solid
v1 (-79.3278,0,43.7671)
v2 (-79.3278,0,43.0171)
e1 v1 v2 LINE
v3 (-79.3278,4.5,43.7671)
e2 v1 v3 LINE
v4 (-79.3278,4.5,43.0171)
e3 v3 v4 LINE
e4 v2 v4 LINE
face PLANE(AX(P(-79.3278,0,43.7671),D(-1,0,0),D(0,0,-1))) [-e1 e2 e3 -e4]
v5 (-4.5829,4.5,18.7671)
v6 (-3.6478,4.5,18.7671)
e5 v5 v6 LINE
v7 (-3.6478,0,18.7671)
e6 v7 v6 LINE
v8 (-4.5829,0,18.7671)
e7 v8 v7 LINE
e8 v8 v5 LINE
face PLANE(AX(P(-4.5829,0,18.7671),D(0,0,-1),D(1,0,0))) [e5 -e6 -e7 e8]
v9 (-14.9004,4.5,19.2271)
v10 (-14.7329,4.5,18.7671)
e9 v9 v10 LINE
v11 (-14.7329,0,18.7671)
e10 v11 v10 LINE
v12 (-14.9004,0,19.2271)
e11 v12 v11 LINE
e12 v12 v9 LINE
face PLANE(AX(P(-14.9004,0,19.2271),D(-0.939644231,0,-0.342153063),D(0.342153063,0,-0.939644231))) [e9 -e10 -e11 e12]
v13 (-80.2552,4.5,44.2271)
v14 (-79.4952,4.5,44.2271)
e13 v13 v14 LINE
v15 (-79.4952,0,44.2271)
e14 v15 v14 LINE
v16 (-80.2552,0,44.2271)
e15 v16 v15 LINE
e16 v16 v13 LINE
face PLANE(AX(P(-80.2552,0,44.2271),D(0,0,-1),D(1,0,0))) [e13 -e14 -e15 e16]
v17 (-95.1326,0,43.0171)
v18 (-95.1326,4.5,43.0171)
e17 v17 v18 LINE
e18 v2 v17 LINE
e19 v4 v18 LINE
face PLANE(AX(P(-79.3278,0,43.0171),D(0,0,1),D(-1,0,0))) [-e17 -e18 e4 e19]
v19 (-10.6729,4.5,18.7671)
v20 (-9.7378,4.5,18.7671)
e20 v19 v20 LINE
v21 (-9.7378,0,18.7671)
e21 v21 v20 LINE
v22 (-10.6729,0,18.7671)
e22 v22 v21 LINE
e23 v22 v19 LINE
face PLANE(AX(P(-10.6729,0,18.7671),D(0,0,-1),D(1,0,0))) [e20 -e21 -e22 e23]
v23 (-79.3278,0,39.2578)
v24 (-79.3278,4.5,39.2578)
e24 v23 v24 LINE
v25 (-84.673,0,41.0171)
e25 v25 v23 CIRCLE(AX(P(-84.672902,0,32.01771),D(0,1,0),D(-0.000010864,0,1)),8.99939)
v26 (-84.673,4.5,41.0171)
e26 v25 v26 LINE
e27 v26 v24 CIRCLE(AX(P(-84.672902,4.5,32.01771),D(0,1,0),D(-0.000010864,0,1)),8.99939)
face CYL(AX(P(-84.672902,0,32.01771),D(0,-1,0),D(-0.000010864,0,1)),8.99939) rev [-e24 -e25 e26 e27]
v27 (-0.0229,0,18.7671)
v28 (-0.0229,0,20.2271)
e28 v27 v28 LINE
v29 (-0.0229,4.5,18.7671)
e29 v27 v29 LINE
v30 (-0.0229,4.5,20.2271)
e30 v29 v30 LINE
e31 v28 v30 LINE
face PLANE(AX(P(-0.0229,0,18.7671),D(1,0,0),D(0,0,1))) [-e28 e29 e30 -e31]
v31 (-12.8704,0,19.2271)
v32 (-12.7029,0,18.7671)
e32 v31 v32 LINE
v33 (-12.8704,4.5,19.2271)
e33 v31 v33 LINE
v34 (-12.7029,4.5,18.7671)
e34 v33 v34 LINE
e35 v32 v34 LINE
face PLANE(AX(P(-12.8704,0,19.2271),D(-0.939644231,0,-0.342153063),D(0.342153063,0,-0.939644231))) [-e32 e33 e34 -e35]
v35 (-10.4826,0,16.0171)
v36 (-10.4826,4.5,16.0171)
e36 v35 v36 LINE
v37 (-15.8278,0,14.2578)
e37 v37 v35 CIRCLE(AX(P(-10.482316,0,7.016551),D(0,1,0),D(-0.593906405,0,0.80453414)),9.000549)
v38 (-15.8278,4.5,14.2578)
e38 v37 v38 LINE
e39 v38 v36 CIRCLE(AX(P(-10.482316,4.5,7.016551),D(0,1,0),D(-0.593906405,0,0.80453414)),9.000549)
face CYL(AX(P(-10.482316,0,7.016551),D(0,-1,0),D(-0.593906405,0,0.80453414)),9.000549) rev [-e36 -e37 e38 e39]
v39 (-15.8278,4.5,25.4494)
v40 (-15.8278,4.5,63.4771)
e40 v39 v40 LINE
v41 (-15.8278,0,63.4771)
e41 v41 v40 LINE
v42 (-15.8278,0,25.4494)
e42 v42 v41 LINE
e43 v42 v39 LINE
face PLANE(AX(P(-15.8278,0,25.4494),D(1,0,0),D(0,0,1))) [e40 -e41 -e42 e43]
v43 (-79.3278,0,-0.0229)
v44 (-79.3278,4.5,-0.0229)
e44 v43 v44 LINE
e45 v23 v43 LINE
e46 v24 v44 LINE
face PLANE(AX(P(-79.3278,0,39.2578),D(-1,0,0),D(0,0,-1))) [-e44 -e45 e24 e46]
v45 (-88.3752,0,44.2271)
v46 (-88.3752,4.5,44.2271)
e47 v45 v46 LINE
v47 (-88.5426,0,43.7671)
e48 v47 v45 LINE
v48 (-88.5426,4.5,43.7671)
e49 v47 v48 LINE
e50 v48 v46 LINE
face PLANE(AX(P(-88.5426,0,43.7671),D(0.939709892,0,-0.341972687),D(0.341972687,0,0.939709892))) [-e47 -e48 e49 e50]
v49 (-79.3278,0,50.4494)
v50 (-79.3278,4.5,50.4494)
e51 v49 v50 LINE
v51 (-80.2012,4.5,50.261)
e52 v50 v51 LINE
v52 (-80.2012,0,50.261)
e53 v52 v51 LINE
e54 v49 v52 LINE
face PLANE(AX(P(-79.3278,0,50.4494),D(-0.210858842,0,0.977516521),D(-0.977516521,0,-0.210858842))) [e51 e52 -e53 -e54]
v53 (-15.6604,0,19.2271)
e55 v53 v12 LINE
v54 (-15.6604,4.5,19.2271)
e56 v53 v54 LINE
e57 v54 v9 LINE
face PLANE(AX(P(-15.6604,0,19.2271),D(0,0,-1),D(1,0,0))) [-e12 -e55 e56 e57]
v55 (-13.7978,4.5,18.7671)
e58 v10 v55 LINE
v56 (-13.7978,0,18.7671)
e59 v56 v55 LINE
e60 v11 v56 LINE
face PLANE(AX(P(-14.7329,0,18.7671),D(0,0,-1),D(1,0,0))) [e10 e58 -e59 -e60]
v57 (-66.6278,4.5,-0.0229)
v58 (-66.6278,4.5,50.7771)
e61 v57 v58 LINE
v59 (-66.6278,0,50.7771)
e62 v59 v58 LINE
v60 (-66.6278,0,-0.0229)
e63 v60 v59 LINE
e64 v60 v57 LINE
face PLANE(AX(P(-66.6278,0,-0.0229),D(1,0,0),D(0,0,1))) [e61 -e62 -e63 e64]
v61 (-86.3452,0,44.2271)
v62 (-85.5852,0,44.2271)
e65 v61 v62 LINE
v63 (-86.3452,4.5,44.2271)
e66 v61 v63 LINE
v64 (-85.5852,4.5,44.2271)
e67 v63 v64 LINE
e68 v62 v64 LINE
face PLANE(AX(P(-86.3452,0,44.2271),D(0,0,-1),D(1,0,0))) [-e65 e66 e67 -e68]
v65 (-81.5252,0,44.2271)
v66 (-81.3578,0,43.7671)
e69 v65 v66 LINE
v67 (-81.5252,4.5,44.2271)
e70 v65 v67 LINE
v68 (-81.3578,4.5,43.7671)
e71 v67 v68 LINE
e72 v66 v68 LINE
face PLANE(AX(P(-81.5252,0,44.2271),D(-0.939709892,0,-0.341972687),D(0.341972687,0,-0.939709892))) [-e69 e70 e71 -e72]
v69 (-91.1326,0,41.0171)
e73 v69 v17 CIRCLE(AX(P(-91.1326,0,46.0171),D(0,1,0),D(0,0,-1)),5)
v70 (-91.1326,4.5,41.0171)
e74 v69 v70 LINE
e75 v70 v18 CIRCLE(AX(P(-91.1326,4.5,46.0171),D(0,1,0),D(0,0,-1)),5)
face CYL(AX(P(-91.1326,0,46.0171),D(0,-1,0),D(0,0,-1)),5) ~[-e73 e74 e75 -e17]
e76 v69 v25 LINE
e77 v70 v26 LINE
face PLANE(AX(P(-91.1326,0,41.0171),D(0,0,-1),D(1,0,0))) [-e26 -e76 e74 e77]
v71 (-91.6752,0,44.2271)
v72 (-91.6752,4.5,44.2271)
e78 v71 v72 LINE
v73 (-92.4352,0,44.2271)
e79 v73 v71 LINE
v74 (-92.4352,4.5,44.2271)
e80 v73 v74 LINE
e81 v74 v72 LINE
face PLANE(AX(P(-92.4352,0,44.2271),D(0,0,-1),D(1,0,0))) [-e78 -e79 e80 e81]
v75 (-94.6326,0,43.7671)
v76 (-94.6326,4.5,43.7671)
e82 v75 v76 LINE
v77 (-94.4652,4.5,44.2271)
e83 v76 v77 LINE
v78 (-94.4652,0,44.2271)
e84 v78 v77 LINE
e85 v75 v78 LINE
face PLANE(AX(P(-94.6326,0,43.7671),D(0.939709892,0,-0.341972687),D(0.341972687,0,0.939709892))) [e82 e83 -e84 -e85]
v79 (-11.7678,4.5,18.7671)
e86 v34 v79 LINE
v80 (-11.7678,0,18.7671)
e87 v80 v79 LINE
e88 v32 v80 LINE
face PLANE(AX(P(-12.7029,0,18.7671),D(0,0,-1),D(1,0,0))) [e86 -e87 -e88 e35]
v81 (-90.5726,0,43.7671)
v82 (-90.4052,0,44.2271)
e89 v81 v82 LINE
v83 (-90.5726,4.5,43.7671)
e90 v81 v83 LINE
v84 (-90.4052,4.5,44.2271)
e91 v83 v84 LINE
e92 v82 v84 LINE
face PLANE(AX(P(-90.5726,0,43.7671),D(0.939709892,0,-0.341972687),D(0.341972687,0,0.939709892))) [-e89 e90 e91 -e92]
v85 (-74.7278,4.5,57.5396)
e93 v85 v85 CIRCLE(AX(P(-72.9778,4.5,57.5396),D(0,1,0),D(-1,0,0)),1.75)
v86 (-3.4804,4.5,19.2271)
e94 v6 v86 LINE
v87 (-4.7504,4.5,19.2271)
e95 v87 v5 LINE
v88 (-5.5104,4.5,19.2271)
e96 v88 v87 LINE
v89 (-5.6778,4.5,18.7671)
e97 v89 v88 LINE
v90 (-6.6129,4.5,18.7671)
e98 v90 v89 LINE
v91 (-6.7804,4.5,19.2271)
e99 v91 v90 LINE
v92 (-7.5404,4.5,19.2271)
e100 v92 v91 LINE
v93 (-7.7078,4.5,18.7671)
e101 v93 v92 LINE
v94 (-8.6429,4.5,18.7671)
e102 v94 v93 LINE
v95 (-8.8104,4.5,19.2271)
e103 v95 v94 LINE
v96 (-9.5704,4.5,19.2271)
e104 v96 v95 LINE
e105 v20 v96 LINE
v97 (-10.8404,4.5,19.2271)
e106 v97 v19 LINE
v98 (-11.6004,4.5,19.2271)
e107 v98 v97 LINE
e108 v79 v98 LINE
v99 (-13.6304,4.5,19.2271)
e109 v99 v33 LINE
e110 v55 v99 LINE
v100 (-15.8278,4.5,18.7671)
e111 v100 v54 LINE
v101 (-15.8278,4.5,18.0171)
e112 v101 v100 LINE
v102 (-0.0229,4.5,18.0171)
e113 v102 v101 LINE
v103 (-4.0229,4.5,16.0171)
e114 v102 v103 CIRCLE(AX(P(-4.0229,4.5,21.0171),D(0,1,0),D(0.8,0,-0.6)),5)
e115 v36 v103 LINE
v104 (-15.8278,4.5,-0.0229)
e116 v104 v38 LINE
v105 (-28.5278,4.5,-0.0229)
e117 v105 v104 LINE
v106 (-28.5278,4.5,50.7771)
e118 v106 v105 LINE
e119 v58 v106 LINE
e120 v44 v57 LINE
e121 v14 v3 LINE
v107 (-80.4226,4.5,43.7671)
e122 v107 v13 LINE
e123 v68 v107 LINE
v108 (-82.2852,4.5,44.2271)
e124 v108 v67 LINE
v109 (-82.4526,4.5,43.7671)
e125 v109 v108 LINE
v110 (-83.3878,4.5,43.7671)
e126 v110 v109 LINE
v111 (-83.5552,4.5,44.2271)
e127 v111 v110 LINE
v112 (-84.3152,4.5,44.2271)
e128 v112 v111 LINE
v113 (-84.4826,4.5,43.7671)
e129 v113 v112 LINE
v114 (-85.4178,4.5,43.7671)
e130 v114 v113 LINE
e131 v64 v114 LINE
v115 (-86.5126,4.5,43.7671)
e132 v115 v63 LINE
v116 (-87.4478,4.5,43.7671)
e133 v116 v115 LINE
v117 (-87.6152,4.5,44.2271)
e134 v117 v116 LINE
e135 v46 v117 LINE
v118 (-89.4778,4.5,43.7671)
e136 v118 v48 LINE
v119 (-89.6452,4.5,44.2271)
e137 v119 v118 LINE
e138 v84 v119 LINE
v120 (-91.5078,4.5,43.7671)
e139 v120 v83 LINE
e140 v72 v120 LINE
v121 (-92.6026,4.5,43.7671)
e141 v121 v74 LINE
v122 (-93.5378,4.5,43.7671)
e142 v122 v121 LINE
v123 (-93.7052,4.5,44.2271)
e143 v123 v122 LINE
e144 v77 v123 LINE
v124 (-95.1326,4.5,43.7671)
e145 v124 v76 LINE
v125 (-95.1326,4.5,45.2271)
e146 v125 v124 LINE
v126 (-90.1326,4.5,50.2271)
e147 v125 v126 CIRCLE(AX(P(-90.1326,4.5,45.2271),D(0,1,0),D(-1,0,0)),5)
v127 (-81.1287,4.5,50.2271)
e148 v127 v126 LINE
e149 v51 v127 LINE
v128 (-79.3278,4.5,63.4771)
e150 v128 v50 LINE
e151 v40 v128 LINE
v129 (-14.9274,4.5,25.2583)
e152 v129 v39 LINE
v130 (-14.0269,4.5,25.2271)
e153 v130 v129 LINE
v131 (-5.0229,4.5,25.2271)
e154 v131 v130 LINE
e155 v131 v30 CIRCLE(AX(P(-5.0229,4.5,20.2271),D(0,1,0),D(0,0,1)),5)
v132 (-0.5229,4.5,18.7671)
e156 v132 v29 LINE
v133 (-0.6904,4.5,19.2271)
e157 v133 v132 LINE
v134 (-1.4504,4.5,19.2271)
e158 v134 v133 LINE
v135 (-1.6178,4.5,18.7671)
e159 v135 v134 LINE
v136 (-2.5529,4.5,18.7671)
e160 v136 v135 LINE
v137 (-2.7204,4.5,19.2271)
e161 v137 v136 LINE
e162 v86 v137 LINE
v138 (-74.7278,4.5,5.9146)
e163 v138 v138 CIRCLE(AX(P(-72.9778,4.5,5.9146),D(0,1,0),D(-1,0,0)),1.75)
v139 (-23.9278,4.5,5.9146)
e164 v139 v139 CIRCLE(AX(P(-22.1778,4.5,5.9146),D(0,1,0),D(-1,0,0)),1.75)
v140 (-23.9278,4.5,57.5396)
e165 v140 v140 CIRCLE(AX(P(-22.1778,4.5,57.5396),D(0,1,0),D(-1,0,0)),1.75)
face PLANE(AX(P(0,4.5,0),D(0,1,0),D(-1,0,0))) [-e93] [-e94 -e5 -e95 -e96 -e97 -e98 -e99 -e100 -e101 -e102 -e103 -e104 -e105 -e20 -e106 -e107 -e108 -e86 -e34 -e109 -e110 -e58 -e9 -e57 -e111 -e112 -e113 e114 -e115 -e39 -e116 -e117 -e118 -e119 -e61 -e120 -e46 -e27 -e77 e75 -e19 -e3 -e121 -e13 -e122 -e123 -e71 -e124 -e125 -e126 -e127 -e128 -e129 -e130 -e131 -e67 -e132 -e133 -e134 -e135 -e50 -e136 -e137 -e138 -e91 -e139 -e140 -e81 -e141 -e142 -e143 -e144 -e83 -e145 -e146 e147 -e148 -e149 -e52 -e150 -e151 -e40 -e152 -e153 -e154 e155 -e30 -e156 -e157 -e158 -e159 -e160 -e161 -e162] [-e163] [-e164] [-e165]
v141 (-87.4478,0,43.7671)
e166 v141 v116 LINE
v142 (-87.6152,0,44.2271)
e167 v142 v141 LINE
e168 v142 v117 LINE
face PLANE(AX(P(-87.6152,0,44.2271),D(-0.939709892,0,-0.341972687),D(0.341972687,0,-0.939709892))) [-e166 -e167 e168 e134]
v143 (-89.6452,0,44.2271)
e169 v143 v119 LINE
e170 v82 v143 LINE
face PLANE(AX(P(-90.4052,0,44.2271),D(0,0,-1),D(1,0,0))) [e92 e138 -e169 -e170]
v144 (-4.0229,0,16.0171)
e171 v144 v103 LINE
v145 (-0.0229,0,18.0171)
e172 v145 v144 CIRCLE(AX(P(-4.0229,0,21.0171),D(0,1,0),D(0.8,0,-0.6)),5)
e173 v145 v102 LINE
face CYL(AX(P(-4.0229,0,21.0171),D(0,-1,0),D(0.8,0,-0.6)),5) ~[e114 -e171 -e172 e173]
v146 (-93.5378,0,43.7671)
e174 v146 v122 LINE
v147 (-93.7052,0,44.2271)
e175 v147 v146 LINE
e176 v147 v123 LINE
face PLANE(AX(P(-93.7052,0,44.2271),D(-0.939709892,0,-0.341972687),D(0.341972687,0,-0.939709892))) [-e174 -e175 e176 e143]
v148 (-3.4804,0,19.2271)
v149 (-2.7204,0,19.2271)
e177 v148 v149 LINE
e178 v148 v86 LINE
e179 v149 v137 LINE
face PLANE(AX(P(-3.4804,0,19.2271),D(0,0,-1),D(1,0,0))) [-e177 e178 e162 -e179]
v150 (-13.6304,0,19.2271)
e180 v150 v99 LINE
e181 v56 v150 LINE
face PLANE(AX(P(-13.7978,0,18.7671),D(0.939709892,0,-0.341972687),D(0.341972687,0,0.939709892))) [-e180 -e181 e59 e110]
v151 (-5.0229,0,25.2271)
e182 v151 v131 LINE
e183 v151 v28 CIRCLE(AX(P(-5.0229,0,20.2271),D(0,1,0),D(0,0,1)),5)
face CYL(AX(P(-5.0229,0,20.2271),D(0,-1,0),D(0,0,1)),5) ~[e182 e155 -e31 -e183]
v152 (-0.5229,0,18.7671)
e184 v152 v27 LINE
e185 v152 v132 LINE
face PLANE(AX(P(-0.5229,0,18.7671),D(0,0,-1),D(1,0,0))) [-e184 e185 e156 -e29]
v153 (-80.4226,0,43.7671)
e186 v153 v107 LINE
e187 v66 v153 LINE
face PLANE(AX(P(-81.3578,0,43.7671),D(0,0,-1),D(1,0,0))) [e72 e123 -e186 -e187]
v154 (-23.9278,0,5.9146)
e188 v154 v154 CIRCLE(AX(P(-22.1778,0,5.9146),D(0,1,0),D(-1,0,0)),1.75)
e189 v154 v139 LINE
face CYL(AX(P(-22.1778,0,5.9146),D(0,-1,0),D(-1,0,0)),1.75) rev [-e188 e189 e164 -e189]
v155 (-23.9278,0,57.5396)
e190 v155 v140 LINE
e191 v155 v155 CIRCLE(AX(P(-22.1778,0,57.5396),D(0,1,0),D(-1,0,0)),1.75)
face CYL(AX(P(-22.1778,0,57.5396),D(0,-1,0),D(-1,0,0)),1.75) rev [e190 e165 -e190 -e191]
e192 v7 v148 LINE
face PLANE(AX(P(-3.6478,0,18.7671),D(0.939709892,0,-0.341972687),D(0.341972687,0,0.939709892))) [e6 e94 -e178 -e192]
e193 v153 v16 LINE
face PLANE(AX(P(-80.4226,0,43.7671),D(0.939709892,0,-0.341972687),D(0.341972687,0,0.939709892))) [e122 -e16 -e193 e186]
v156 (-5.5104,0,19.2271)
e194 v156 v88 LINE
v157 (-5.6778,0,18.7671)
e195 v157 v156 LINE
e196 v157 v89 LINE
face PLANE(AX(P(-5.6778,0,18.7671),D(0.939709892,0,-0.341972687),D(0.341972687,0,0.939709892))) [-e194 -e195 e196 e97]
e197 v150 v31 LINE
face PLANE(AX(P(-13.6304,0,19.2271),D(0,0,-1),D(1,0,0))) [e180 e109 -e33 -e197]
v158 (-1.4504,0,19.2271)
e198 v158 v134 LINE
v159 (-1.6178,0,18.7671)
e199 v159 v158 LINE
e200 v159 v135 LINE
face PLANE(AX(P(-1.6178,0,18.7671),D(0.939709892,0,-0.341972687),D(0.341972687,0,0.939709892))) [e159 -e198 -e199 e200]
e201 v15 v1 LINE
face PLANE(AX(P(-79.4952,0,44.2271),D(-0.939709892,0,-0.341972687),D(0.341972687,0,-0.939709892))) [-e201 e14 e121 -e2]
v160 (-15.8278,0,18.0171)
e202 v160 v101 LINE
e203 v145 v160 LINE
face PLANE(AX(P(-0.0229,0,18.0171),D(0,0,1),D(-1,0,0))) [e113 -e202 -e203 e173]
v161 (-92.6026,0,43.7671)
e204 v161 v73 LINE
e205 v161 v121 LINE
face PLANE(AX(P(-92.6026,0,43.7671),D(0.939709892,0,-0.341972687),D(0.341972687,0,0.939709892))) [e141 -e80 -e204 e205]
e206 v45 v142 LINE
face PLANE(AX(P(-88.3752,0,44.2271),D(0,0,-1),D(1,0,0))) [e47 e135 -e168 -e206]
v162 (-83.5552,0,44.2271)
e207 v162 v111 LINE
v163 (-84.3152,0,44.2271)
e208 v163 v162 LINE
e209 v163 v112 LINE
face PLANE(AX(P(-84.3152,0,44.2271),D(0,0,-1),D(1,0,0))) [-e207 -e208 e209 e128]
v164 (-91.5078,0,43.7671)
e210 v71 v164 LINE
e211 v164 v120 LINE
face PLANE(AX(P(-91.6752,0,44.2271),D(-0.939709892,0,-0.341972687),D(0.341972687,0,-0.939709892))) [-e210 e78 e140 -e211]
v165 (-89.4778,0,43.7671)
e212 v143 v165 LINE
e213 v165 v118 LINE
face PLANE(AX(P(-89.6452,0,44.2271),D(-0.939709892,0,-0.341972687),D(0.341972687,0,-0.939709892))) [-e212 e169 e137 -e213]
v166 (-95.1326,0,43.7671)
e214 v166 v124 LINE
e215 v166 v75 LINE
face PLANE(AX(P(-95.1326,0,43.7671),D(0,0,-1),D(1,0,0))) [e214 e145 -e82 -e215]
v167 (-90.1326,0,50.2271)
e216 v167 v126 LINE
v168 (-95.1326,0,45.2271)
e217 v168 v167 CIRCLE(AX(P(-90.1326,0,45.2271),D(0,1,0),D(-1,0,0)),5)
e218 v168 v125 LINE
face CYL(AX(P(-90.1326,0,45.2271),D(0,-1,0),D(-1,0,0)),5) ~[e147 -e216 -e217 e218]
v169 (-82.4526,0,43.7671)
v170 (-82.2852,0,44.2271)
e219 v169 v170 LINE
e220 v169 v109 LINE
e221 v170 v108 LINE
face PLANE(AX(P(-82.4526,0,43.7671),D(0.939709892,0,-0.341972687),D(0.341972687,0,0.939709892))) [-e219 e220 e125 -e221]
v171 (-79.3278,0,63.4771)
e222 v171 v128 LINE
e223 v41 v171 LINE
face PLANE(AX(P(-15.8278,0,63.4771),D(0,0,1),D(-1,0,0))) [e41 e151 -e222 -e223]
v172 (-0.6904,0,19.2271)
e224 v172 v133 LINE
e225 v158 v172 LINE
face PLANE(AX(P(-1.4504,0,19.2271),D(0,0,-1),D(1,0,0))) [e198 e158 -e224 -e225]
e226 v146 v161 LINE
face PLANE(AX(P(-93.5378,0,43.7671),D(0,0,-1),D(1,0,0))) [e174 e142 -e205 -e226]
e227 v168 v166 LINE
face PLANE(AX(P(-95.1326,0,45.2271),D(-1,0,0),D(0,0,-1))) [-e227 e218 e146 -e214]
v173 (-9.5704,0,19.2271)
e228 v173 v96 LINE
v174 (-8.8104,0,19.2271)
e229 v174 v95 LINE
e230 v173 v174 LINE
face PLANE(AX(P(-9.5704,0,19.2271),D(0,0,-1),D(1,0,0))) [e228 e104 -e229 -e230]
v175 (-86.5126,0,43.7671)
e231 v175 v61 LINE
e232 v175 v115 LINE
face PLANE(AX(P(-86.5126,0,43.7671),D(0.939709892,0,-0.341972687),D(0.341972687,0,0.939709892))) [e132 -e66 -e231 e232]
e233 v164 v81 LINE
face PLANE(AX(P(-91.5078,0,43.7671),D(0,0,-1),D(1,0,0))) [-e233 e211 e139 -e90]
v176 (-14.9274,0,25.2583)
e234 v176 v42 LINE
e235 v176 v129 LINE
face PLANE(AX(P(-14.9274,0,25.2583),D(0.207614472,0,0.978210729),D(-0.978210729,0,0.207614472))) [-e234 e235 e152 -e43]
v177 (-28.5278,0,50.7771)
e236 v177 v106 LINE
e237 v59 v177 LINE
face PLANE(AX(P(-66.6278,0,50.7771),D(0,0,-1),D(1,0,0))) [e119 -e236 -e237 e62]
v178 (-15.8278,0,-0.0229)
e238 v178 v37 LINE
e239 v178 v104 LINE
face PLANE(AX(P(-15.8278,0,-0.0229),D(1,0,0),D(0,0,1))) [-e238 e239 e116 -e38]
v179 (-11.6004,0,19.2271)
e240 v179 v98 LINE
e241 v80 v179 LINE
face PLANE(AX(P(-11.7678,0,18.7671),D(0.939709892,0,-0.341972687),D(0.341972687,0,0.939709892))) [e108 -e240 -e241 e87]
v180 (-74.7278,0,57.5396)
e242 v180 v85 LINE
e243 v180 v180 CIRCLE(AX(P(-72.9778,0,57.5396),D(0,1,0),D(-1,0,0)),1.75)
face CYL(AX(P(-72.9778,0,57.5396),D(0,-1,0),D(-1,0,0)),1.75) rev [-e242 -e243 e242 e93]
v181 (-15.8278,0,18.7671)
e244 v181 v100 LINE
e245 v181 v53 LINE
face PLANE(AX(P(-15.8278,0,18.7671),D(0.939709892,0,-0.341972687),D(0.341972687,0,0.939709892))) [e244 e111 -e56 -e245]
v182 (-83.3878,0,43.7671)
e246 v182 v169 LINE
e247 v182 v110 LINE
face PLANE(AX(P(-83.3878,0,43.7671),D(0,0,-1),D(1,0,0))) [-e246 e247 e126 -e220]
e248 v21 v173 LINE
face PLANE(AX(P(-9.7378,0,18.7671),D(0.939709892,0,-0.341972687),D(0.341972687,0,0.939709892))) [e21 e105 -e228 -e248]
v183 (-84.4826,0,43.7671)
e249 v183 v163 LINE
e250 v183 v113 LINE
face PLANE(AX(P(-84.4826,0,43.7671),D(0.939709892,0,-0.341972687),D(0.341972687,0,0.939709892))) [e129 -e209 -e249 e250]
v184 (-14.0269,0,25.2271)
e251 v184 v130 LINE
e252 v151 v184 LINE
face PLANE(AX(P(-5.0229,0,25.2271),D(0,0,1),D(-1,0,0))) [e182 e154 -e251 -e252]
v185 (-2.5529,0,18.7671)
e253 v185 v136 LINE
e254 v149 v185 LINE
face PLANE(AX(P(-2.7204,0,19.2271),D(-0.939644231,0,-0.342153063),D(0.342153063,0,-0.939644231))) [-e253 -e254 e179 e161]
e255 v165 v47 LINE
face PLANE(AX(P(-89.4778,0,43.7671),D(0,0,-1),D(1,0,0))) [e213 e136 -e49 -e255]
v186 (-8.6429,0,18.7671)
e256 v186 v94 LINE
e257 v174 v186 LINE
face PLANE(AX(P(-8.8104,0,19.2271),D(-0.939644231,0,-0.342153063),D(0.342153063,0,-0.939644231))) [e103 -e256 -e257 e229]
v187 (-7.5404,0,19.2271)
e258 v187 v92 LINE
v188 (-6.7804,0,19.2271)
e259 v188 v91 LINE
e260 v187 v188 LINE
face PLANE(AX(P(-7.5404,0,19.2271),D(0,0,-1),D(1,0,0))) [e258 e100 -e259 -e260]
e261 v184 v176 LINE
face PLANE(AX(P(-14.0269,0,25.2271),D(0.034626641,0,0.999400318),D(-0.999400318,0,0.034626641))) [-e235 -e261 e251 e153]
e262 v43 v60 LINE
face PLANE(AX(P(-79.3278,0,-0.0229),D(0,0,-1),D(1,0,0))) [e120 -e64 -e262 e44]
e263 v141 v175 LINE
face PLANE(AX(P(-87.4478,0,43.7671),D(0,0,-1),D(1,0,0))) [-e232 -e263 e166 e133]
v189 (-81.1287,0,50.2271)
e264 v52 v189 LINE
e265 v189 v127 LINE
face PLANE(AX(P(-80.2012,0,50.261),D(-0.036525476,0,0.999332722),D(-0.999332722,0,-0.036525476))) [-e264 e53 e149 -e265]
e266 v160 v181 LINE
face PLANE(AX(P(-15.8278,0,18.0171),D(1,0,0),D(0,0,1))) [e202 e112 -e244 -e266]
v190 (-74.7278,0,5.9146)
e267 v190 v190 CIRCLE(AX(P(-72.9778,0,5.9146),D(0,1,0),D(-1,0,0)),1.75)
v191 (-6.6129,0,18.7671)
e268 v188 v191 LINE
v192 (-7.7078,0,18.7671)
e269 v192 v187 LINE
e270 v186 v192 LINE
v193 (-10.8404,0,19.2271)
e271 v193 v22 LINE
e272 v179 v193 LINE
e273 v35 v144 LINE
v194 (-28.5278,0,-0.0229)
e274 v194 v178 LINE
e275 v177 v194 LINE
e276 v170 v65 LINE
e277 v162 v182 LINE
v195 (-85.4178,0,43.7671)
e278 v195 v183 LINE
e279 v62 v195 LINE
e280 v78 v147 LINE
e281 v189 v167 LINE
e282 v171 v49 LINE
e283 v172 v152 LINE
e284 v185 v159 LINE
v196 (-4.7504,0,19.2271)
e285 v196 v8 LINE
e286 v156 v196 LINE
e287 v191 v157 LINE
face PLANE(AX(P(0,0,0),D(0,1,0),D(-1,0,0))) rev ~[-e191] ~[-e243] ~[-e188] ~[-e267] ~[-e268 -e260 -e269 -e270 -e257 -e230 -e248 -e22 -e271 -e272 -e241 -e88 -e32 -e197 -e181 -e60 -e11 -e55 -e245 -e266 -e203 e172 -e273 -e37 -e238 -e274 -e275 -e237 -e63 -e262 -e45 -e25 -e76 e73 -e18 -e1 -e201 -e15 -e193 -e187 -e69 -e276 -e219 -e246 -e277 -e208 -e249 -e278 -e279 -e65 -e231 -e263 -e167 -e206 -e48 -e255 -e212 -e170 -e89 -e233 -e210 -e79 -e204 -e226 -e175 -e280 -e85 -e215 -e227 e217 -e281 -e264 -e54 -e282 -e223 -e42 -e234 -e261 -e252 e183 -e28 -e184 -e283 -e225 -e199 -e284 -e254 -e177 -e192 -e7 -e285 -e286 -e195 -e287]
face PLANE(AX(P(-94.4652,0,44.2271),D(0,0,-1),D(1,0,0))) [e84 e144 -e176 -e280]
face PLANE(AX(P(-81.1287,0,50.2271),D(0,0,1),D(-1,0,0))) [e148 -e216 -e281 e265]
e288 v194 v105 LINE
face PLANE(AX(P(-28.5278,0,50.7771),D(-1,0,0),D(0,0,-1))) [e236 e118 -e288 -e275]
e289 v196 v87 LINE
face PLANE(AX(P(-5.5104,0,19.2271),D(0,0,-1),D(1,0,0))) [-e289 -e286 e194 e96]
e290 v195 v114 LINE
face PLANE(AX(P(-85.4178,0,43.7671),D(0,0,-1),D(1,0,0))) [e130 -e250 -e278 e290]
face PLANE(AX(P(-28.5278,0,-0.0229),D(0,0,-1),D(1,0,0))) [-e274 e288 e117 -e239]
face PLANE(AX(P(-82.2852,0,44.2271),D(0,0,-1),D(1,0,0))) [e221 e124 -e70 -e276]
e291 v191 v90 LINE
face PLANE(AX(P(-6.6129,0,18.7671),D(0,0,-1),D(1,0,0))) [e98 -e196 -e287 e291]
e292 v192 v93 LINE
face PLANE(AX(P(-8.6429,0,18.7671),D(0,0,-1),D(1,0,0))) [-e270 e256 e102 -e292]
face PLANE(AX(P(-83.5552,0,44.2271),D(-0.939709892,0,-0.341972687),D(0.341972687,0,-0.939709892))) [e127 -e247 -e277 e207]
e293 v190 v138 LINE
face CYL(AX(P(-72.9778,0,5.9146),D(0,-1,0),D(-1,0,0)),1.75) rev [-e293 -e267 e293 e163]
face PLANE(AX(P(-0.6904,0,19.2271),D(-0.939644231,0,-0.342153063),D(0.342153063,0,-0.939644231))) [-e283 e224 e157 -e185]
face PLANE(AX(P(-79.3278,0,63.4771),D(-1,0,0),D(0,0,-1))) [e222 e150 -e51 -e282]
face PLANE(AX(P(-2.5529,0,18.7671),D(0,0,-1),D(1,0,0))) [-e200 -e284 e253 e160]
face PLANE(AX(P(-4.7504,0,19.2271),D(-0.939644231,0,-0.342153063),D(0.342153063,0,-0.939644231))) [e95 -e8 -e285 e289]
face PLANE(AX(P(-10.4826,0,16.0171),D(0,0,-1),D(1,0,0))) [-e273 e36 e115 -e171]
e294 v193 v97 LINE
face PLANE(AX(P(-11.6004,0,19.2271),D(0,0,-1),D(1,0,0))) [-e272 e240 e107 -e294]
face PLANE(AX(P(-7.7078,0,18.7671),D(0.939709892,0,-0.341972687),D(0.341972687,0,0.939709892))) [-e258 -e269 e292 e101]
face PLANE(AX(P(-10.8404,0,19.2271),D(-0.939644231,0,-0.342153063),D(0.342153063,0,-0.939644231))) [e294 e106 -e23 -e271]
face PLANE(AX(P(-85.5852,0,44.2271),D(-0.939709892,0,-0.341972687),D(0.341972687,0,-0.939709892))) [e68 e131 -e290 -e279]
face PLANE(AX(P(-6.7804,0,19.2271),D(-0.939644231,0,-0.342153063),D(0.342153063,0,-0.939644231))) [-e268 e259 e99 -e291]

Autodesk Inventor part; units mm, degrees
ref_plane "YZ Plane" through (0, 0, 0) normal (1, 0, 0) x (0, 1, 0)
ref_plane "XZ Plane" through (0, 0, 0) normal (0, 1, 0) x (-1, 0, 0)
ref_plane "XY Plane" through (0, 0, 0) normal (0, 0, 1) x (1, 0, 0)
sketch "Sketch1" plane through (0, 0, 0) normal (0, 1, 0) x (-1, 0, 0)
  line L0 (15.8278, -0.0229) -> (15.8278, 14.2578)
  arc A0 (15.8278, 14.2578) -> (10.4826, 16.0171) centre (10.4826, 7.0171) ccw
  line L1 (10.4826, 16.0171) -> (4.0229, 16.0171)
  arc A1 (0.0229, 18.0171) -> (4.0229, 16.0171) centre (4.0229, 21.0171) ccw
  line L2 (0.0229, 18.0171) -> (15.8278, 18.0171)
  line L3 (15.8278, 18.0171) -> (15.8278, 18.7671)
  line L4 (15.8278, 18.7671) -> (15.6604, 19.2271)
  line L5 (15.6604, 19.2271) -> (14.9004, 19.2271)
  line L6 (14.9004, 19.2271) -> (14.7329, 18.7671)
  line L7 (14.7329, 18.7671) -> (13.7978, 18.7671)
  line L8 (13.7978, 18.7671) -> (13.6304, 19.2271)
  line L9 (13.6304, 19.2271) -> (12.8704, 19.2271)
  line L10 (12.8704, 19.2271) -> (12.7029, 18.7671)
  line L11 (12.7029, 18.7671) -> (11.7678, 18.7671)
  line L12 (11.7678, 18.7671) -> (11.6004, 19.2271)
  line L13 (11.6004, 19.2271) -> (10.8404, 19.2271)
  line L14 (10.8404, 19.2271) -> (10.6729, 18.7671)
  line L15 (10.6729, 18.7671) -> (9.7378, 18.7671)
  line L16 (9.7378, 18.7671) -> (9.5704, 19.2271)
  line L17 (9.5704, 19.2271) -> (8.8104, 19.2271)
  line L18 (8.8104, 19.2271) -> (8.6429, 18.7671)
  line L19 (8.6429, 18.7671) -> (7.7078, 18.7671)
  line L20 (7.7078, 18.7671) -> (7.5404, 19.2271)
  line L21 (7.5404, 19.2271) -> (6.7804, 19.2271)
  line L22 (6.7804, 19.2271) -> (6.6129, 18.7671)
  line L23 (6.6129, 18.7671) -> (5.6778, 18.7671)
  line L24 (5.6778, 18.7671) -> (5.5104, 19.2271)
  line L25 (5.5104, 19.2271) -> (4.7504, 19.2271)
  line L26 (4.7504, 19.2271) -> (4.5829, 18.7671)
  line L27 (4.5829, 18.7671) -> (3.6478, 18.7671)
  line L28 (3.6478, 18.7671) -> (3.4804, 19.2271)
  line L29 (3.4804, 19.2271) -> (2.7204, 19.2271)
  line L30 (2.7204, 19.2271) -> (2.5529, 18.7671)
  line L31 (2.5529, 18.7671) -> (1.6178, 18.7671)
  line L32 (1.6178, 18.7671) -> (1.4504, 19.2271)
  line L33 (1.4504, 19.2271) -> (0.6904, 19.2271)
  line L34 (0.6904, 19.2271) -> (0.5229, 18.7671)
  line L35 (0.5229, 18.7671) -> (0.0229, 18.7671)
  line L36 (0.0229, 18.7671) -> (0.0229, 20.2271)
  arc A2 (5.0229, 25.2271) -> (0.0229, 20.2271) centre (5.0229, 20.2271) ccw
  line L37 (5.0229, 25.2271) -> (14.0269, 25.2271)
  line L38 (14.0269, 25.2271) -> (14.9274, 25.2583)
  line L39 (14.9274, 25.2583) -> (15.8278, 25.4494)
  line L40 (15.8278, 25.4494) -> (15.8278, 63.4771)
  line L41 (15.8278, 63.4771) -> (79.3278, 63.4771)
  line L42 (79.3278, 63.4771) -> (79.3278, 50.4494)
  line L43 (79.3278, 50.4494) -> (80.2012, 50.261)
  line L44 (80.2012, 50.261) -> (81.1287, 50.2271)
  line L45 (81.1287, 50.2271) -> (90.1326, 50.2271)
  arc A3 (95.1326, 45.2271) -> (90.1326, 50.2271) centre (90.1326, 45.2271) ccw
  line L46 (95.1326, 45.2271) -> (95.1326, 43.7671)
  line L47 (95.1326, 43.7671) -> (94.6326, 43.7671)
  line L48 (94.6326, 43.7671) -> (94.4652, 44.2271)
  line L49 (94.4652, 44.2271) -> (93.7052, 44.2271)
  line L50 (93.7052, 44.2271) -> (93.5378, 43.7671)
  line L51 (93.5378, 43.7671) -> (92.6026, 43.7671)
  line L52 (92.6026, 43.7671) -> (92.4352, 44.2271)
  line L53 (92.4352, 44.2271) -> (91.6752, 44.2271)
  line L54 (91.6752, 44.2271) -> (91.5078, 43.7671)
  line L55 (91.5078, 43.7671) -> (90.5726, 43.7671)
  line L56 (90.5726, 43.7671) -> (90.4052, 44.2271)
  line L57 (90.4052, 44.2271) -> (89.6452, 44.2271)
  line L58 (89.6452, 44.2271) -> (89.4778, 43.7671)
  line L59 (89.4778, 43.7671) -> (88.5426, 43.7671)
  line L60 (88.5426, 43.7671) -> (88.3752, 44.2271)
  line L61 (88.3752, 44.2271) -> (87.6152, 44.2271)
  line L62 (87.6152, 44.2271) -> (87.4478, 43.7671)
  line L63 (87.4478, 43.7671) -> (86.5126, 43.7671)
  line L64 (86.5126, 43.7671) -> (86.3452, 44.2271)
  line L65 (86.3452, 44.2271) -> (85.5852, 44.2271)
  line L66 (85.5852, 44.2271) -> (85.4178, 43.7671)
  line L67 (85.4178, 43.7671) -> (84.4826, 43.7671)
  line L68 (84.4826, 43.7671) -> (84.3152, 44.2271)
  line L69 (84.3152, 44.2271) -> (83.5552, 44.2271)
  line L70 (83.5552, 44.2271) -> (83.3878, 43.7671)
  line L71 (83.3878, 43.7671) -> (82.4526, 43.7671)
  line L72 (82.4526, 43.7671) -> (82.2852, 44.2271)
  line L73 (82.2852, 44.2271) -> (81.5252, 44.2271)
  line L74 (81.5252, 44.2271) -> (81.3578, 43.7671)
  line L75 (81.3578, 43.7671) -> (80.4226, 43.7671)
  line L76 (80.4226, 43.7671) -> (80.2552, 44.2271)
  line L77 (80.2552, 44.2271) -> (79.4952, 44.2271)
  line L78 (79.4952, 44.2271) -> (79.3278, 43.7671)
  line L79 (79.3278, 43.7671) -> (79.3278, 43.0171)
  line L80 (79.3278, 43.0171) -> (95.1326, 43.0171)
  arc A4 (91.1326, 41.0171) -> (95.1326, 43.0171) centre (91.1326, 46.0171) ccw
  line L81 (91.1326, 41.0171) -> (84.673, 41.0171)
  arc A5 (84.673, 41.0171) -> (79.3278, 39.2578) centre (84.673, 32.0171) ccw
  line L82 (79.3278, 39.2578) -> (79.3278, -0.0229)
  line L83 (79.3278, -0.0229) -> (66.6278, -0.0229)
  line L84 (66.6278, -0.0229) -> (66.6278, 50.7771)
  line L85 (66.6278, 50.7771) -> (28.5278, 50.7771)
  line L86 (28.5278, 50.7771) -> (28.5278, -0.0229)
  line L87 (28.5278, -0.0229) -> (15.8278, -0.0229)
  circle A6 centre (22.1778, 5.9146) radius 1.75
  circle A7 centre (22.1778, 57.5396) radius 1.75
  circle A8 centre (72.9778, 57.5396) radius 1.75
  circle A9 centre (72.9778, 5.9146) radius 1.75
  point P0 (0, 0)
extrude "Extrusion1" add sketch "Sketch1" along normal blind 4.5
properties part number "x carriage belt tensioner"
